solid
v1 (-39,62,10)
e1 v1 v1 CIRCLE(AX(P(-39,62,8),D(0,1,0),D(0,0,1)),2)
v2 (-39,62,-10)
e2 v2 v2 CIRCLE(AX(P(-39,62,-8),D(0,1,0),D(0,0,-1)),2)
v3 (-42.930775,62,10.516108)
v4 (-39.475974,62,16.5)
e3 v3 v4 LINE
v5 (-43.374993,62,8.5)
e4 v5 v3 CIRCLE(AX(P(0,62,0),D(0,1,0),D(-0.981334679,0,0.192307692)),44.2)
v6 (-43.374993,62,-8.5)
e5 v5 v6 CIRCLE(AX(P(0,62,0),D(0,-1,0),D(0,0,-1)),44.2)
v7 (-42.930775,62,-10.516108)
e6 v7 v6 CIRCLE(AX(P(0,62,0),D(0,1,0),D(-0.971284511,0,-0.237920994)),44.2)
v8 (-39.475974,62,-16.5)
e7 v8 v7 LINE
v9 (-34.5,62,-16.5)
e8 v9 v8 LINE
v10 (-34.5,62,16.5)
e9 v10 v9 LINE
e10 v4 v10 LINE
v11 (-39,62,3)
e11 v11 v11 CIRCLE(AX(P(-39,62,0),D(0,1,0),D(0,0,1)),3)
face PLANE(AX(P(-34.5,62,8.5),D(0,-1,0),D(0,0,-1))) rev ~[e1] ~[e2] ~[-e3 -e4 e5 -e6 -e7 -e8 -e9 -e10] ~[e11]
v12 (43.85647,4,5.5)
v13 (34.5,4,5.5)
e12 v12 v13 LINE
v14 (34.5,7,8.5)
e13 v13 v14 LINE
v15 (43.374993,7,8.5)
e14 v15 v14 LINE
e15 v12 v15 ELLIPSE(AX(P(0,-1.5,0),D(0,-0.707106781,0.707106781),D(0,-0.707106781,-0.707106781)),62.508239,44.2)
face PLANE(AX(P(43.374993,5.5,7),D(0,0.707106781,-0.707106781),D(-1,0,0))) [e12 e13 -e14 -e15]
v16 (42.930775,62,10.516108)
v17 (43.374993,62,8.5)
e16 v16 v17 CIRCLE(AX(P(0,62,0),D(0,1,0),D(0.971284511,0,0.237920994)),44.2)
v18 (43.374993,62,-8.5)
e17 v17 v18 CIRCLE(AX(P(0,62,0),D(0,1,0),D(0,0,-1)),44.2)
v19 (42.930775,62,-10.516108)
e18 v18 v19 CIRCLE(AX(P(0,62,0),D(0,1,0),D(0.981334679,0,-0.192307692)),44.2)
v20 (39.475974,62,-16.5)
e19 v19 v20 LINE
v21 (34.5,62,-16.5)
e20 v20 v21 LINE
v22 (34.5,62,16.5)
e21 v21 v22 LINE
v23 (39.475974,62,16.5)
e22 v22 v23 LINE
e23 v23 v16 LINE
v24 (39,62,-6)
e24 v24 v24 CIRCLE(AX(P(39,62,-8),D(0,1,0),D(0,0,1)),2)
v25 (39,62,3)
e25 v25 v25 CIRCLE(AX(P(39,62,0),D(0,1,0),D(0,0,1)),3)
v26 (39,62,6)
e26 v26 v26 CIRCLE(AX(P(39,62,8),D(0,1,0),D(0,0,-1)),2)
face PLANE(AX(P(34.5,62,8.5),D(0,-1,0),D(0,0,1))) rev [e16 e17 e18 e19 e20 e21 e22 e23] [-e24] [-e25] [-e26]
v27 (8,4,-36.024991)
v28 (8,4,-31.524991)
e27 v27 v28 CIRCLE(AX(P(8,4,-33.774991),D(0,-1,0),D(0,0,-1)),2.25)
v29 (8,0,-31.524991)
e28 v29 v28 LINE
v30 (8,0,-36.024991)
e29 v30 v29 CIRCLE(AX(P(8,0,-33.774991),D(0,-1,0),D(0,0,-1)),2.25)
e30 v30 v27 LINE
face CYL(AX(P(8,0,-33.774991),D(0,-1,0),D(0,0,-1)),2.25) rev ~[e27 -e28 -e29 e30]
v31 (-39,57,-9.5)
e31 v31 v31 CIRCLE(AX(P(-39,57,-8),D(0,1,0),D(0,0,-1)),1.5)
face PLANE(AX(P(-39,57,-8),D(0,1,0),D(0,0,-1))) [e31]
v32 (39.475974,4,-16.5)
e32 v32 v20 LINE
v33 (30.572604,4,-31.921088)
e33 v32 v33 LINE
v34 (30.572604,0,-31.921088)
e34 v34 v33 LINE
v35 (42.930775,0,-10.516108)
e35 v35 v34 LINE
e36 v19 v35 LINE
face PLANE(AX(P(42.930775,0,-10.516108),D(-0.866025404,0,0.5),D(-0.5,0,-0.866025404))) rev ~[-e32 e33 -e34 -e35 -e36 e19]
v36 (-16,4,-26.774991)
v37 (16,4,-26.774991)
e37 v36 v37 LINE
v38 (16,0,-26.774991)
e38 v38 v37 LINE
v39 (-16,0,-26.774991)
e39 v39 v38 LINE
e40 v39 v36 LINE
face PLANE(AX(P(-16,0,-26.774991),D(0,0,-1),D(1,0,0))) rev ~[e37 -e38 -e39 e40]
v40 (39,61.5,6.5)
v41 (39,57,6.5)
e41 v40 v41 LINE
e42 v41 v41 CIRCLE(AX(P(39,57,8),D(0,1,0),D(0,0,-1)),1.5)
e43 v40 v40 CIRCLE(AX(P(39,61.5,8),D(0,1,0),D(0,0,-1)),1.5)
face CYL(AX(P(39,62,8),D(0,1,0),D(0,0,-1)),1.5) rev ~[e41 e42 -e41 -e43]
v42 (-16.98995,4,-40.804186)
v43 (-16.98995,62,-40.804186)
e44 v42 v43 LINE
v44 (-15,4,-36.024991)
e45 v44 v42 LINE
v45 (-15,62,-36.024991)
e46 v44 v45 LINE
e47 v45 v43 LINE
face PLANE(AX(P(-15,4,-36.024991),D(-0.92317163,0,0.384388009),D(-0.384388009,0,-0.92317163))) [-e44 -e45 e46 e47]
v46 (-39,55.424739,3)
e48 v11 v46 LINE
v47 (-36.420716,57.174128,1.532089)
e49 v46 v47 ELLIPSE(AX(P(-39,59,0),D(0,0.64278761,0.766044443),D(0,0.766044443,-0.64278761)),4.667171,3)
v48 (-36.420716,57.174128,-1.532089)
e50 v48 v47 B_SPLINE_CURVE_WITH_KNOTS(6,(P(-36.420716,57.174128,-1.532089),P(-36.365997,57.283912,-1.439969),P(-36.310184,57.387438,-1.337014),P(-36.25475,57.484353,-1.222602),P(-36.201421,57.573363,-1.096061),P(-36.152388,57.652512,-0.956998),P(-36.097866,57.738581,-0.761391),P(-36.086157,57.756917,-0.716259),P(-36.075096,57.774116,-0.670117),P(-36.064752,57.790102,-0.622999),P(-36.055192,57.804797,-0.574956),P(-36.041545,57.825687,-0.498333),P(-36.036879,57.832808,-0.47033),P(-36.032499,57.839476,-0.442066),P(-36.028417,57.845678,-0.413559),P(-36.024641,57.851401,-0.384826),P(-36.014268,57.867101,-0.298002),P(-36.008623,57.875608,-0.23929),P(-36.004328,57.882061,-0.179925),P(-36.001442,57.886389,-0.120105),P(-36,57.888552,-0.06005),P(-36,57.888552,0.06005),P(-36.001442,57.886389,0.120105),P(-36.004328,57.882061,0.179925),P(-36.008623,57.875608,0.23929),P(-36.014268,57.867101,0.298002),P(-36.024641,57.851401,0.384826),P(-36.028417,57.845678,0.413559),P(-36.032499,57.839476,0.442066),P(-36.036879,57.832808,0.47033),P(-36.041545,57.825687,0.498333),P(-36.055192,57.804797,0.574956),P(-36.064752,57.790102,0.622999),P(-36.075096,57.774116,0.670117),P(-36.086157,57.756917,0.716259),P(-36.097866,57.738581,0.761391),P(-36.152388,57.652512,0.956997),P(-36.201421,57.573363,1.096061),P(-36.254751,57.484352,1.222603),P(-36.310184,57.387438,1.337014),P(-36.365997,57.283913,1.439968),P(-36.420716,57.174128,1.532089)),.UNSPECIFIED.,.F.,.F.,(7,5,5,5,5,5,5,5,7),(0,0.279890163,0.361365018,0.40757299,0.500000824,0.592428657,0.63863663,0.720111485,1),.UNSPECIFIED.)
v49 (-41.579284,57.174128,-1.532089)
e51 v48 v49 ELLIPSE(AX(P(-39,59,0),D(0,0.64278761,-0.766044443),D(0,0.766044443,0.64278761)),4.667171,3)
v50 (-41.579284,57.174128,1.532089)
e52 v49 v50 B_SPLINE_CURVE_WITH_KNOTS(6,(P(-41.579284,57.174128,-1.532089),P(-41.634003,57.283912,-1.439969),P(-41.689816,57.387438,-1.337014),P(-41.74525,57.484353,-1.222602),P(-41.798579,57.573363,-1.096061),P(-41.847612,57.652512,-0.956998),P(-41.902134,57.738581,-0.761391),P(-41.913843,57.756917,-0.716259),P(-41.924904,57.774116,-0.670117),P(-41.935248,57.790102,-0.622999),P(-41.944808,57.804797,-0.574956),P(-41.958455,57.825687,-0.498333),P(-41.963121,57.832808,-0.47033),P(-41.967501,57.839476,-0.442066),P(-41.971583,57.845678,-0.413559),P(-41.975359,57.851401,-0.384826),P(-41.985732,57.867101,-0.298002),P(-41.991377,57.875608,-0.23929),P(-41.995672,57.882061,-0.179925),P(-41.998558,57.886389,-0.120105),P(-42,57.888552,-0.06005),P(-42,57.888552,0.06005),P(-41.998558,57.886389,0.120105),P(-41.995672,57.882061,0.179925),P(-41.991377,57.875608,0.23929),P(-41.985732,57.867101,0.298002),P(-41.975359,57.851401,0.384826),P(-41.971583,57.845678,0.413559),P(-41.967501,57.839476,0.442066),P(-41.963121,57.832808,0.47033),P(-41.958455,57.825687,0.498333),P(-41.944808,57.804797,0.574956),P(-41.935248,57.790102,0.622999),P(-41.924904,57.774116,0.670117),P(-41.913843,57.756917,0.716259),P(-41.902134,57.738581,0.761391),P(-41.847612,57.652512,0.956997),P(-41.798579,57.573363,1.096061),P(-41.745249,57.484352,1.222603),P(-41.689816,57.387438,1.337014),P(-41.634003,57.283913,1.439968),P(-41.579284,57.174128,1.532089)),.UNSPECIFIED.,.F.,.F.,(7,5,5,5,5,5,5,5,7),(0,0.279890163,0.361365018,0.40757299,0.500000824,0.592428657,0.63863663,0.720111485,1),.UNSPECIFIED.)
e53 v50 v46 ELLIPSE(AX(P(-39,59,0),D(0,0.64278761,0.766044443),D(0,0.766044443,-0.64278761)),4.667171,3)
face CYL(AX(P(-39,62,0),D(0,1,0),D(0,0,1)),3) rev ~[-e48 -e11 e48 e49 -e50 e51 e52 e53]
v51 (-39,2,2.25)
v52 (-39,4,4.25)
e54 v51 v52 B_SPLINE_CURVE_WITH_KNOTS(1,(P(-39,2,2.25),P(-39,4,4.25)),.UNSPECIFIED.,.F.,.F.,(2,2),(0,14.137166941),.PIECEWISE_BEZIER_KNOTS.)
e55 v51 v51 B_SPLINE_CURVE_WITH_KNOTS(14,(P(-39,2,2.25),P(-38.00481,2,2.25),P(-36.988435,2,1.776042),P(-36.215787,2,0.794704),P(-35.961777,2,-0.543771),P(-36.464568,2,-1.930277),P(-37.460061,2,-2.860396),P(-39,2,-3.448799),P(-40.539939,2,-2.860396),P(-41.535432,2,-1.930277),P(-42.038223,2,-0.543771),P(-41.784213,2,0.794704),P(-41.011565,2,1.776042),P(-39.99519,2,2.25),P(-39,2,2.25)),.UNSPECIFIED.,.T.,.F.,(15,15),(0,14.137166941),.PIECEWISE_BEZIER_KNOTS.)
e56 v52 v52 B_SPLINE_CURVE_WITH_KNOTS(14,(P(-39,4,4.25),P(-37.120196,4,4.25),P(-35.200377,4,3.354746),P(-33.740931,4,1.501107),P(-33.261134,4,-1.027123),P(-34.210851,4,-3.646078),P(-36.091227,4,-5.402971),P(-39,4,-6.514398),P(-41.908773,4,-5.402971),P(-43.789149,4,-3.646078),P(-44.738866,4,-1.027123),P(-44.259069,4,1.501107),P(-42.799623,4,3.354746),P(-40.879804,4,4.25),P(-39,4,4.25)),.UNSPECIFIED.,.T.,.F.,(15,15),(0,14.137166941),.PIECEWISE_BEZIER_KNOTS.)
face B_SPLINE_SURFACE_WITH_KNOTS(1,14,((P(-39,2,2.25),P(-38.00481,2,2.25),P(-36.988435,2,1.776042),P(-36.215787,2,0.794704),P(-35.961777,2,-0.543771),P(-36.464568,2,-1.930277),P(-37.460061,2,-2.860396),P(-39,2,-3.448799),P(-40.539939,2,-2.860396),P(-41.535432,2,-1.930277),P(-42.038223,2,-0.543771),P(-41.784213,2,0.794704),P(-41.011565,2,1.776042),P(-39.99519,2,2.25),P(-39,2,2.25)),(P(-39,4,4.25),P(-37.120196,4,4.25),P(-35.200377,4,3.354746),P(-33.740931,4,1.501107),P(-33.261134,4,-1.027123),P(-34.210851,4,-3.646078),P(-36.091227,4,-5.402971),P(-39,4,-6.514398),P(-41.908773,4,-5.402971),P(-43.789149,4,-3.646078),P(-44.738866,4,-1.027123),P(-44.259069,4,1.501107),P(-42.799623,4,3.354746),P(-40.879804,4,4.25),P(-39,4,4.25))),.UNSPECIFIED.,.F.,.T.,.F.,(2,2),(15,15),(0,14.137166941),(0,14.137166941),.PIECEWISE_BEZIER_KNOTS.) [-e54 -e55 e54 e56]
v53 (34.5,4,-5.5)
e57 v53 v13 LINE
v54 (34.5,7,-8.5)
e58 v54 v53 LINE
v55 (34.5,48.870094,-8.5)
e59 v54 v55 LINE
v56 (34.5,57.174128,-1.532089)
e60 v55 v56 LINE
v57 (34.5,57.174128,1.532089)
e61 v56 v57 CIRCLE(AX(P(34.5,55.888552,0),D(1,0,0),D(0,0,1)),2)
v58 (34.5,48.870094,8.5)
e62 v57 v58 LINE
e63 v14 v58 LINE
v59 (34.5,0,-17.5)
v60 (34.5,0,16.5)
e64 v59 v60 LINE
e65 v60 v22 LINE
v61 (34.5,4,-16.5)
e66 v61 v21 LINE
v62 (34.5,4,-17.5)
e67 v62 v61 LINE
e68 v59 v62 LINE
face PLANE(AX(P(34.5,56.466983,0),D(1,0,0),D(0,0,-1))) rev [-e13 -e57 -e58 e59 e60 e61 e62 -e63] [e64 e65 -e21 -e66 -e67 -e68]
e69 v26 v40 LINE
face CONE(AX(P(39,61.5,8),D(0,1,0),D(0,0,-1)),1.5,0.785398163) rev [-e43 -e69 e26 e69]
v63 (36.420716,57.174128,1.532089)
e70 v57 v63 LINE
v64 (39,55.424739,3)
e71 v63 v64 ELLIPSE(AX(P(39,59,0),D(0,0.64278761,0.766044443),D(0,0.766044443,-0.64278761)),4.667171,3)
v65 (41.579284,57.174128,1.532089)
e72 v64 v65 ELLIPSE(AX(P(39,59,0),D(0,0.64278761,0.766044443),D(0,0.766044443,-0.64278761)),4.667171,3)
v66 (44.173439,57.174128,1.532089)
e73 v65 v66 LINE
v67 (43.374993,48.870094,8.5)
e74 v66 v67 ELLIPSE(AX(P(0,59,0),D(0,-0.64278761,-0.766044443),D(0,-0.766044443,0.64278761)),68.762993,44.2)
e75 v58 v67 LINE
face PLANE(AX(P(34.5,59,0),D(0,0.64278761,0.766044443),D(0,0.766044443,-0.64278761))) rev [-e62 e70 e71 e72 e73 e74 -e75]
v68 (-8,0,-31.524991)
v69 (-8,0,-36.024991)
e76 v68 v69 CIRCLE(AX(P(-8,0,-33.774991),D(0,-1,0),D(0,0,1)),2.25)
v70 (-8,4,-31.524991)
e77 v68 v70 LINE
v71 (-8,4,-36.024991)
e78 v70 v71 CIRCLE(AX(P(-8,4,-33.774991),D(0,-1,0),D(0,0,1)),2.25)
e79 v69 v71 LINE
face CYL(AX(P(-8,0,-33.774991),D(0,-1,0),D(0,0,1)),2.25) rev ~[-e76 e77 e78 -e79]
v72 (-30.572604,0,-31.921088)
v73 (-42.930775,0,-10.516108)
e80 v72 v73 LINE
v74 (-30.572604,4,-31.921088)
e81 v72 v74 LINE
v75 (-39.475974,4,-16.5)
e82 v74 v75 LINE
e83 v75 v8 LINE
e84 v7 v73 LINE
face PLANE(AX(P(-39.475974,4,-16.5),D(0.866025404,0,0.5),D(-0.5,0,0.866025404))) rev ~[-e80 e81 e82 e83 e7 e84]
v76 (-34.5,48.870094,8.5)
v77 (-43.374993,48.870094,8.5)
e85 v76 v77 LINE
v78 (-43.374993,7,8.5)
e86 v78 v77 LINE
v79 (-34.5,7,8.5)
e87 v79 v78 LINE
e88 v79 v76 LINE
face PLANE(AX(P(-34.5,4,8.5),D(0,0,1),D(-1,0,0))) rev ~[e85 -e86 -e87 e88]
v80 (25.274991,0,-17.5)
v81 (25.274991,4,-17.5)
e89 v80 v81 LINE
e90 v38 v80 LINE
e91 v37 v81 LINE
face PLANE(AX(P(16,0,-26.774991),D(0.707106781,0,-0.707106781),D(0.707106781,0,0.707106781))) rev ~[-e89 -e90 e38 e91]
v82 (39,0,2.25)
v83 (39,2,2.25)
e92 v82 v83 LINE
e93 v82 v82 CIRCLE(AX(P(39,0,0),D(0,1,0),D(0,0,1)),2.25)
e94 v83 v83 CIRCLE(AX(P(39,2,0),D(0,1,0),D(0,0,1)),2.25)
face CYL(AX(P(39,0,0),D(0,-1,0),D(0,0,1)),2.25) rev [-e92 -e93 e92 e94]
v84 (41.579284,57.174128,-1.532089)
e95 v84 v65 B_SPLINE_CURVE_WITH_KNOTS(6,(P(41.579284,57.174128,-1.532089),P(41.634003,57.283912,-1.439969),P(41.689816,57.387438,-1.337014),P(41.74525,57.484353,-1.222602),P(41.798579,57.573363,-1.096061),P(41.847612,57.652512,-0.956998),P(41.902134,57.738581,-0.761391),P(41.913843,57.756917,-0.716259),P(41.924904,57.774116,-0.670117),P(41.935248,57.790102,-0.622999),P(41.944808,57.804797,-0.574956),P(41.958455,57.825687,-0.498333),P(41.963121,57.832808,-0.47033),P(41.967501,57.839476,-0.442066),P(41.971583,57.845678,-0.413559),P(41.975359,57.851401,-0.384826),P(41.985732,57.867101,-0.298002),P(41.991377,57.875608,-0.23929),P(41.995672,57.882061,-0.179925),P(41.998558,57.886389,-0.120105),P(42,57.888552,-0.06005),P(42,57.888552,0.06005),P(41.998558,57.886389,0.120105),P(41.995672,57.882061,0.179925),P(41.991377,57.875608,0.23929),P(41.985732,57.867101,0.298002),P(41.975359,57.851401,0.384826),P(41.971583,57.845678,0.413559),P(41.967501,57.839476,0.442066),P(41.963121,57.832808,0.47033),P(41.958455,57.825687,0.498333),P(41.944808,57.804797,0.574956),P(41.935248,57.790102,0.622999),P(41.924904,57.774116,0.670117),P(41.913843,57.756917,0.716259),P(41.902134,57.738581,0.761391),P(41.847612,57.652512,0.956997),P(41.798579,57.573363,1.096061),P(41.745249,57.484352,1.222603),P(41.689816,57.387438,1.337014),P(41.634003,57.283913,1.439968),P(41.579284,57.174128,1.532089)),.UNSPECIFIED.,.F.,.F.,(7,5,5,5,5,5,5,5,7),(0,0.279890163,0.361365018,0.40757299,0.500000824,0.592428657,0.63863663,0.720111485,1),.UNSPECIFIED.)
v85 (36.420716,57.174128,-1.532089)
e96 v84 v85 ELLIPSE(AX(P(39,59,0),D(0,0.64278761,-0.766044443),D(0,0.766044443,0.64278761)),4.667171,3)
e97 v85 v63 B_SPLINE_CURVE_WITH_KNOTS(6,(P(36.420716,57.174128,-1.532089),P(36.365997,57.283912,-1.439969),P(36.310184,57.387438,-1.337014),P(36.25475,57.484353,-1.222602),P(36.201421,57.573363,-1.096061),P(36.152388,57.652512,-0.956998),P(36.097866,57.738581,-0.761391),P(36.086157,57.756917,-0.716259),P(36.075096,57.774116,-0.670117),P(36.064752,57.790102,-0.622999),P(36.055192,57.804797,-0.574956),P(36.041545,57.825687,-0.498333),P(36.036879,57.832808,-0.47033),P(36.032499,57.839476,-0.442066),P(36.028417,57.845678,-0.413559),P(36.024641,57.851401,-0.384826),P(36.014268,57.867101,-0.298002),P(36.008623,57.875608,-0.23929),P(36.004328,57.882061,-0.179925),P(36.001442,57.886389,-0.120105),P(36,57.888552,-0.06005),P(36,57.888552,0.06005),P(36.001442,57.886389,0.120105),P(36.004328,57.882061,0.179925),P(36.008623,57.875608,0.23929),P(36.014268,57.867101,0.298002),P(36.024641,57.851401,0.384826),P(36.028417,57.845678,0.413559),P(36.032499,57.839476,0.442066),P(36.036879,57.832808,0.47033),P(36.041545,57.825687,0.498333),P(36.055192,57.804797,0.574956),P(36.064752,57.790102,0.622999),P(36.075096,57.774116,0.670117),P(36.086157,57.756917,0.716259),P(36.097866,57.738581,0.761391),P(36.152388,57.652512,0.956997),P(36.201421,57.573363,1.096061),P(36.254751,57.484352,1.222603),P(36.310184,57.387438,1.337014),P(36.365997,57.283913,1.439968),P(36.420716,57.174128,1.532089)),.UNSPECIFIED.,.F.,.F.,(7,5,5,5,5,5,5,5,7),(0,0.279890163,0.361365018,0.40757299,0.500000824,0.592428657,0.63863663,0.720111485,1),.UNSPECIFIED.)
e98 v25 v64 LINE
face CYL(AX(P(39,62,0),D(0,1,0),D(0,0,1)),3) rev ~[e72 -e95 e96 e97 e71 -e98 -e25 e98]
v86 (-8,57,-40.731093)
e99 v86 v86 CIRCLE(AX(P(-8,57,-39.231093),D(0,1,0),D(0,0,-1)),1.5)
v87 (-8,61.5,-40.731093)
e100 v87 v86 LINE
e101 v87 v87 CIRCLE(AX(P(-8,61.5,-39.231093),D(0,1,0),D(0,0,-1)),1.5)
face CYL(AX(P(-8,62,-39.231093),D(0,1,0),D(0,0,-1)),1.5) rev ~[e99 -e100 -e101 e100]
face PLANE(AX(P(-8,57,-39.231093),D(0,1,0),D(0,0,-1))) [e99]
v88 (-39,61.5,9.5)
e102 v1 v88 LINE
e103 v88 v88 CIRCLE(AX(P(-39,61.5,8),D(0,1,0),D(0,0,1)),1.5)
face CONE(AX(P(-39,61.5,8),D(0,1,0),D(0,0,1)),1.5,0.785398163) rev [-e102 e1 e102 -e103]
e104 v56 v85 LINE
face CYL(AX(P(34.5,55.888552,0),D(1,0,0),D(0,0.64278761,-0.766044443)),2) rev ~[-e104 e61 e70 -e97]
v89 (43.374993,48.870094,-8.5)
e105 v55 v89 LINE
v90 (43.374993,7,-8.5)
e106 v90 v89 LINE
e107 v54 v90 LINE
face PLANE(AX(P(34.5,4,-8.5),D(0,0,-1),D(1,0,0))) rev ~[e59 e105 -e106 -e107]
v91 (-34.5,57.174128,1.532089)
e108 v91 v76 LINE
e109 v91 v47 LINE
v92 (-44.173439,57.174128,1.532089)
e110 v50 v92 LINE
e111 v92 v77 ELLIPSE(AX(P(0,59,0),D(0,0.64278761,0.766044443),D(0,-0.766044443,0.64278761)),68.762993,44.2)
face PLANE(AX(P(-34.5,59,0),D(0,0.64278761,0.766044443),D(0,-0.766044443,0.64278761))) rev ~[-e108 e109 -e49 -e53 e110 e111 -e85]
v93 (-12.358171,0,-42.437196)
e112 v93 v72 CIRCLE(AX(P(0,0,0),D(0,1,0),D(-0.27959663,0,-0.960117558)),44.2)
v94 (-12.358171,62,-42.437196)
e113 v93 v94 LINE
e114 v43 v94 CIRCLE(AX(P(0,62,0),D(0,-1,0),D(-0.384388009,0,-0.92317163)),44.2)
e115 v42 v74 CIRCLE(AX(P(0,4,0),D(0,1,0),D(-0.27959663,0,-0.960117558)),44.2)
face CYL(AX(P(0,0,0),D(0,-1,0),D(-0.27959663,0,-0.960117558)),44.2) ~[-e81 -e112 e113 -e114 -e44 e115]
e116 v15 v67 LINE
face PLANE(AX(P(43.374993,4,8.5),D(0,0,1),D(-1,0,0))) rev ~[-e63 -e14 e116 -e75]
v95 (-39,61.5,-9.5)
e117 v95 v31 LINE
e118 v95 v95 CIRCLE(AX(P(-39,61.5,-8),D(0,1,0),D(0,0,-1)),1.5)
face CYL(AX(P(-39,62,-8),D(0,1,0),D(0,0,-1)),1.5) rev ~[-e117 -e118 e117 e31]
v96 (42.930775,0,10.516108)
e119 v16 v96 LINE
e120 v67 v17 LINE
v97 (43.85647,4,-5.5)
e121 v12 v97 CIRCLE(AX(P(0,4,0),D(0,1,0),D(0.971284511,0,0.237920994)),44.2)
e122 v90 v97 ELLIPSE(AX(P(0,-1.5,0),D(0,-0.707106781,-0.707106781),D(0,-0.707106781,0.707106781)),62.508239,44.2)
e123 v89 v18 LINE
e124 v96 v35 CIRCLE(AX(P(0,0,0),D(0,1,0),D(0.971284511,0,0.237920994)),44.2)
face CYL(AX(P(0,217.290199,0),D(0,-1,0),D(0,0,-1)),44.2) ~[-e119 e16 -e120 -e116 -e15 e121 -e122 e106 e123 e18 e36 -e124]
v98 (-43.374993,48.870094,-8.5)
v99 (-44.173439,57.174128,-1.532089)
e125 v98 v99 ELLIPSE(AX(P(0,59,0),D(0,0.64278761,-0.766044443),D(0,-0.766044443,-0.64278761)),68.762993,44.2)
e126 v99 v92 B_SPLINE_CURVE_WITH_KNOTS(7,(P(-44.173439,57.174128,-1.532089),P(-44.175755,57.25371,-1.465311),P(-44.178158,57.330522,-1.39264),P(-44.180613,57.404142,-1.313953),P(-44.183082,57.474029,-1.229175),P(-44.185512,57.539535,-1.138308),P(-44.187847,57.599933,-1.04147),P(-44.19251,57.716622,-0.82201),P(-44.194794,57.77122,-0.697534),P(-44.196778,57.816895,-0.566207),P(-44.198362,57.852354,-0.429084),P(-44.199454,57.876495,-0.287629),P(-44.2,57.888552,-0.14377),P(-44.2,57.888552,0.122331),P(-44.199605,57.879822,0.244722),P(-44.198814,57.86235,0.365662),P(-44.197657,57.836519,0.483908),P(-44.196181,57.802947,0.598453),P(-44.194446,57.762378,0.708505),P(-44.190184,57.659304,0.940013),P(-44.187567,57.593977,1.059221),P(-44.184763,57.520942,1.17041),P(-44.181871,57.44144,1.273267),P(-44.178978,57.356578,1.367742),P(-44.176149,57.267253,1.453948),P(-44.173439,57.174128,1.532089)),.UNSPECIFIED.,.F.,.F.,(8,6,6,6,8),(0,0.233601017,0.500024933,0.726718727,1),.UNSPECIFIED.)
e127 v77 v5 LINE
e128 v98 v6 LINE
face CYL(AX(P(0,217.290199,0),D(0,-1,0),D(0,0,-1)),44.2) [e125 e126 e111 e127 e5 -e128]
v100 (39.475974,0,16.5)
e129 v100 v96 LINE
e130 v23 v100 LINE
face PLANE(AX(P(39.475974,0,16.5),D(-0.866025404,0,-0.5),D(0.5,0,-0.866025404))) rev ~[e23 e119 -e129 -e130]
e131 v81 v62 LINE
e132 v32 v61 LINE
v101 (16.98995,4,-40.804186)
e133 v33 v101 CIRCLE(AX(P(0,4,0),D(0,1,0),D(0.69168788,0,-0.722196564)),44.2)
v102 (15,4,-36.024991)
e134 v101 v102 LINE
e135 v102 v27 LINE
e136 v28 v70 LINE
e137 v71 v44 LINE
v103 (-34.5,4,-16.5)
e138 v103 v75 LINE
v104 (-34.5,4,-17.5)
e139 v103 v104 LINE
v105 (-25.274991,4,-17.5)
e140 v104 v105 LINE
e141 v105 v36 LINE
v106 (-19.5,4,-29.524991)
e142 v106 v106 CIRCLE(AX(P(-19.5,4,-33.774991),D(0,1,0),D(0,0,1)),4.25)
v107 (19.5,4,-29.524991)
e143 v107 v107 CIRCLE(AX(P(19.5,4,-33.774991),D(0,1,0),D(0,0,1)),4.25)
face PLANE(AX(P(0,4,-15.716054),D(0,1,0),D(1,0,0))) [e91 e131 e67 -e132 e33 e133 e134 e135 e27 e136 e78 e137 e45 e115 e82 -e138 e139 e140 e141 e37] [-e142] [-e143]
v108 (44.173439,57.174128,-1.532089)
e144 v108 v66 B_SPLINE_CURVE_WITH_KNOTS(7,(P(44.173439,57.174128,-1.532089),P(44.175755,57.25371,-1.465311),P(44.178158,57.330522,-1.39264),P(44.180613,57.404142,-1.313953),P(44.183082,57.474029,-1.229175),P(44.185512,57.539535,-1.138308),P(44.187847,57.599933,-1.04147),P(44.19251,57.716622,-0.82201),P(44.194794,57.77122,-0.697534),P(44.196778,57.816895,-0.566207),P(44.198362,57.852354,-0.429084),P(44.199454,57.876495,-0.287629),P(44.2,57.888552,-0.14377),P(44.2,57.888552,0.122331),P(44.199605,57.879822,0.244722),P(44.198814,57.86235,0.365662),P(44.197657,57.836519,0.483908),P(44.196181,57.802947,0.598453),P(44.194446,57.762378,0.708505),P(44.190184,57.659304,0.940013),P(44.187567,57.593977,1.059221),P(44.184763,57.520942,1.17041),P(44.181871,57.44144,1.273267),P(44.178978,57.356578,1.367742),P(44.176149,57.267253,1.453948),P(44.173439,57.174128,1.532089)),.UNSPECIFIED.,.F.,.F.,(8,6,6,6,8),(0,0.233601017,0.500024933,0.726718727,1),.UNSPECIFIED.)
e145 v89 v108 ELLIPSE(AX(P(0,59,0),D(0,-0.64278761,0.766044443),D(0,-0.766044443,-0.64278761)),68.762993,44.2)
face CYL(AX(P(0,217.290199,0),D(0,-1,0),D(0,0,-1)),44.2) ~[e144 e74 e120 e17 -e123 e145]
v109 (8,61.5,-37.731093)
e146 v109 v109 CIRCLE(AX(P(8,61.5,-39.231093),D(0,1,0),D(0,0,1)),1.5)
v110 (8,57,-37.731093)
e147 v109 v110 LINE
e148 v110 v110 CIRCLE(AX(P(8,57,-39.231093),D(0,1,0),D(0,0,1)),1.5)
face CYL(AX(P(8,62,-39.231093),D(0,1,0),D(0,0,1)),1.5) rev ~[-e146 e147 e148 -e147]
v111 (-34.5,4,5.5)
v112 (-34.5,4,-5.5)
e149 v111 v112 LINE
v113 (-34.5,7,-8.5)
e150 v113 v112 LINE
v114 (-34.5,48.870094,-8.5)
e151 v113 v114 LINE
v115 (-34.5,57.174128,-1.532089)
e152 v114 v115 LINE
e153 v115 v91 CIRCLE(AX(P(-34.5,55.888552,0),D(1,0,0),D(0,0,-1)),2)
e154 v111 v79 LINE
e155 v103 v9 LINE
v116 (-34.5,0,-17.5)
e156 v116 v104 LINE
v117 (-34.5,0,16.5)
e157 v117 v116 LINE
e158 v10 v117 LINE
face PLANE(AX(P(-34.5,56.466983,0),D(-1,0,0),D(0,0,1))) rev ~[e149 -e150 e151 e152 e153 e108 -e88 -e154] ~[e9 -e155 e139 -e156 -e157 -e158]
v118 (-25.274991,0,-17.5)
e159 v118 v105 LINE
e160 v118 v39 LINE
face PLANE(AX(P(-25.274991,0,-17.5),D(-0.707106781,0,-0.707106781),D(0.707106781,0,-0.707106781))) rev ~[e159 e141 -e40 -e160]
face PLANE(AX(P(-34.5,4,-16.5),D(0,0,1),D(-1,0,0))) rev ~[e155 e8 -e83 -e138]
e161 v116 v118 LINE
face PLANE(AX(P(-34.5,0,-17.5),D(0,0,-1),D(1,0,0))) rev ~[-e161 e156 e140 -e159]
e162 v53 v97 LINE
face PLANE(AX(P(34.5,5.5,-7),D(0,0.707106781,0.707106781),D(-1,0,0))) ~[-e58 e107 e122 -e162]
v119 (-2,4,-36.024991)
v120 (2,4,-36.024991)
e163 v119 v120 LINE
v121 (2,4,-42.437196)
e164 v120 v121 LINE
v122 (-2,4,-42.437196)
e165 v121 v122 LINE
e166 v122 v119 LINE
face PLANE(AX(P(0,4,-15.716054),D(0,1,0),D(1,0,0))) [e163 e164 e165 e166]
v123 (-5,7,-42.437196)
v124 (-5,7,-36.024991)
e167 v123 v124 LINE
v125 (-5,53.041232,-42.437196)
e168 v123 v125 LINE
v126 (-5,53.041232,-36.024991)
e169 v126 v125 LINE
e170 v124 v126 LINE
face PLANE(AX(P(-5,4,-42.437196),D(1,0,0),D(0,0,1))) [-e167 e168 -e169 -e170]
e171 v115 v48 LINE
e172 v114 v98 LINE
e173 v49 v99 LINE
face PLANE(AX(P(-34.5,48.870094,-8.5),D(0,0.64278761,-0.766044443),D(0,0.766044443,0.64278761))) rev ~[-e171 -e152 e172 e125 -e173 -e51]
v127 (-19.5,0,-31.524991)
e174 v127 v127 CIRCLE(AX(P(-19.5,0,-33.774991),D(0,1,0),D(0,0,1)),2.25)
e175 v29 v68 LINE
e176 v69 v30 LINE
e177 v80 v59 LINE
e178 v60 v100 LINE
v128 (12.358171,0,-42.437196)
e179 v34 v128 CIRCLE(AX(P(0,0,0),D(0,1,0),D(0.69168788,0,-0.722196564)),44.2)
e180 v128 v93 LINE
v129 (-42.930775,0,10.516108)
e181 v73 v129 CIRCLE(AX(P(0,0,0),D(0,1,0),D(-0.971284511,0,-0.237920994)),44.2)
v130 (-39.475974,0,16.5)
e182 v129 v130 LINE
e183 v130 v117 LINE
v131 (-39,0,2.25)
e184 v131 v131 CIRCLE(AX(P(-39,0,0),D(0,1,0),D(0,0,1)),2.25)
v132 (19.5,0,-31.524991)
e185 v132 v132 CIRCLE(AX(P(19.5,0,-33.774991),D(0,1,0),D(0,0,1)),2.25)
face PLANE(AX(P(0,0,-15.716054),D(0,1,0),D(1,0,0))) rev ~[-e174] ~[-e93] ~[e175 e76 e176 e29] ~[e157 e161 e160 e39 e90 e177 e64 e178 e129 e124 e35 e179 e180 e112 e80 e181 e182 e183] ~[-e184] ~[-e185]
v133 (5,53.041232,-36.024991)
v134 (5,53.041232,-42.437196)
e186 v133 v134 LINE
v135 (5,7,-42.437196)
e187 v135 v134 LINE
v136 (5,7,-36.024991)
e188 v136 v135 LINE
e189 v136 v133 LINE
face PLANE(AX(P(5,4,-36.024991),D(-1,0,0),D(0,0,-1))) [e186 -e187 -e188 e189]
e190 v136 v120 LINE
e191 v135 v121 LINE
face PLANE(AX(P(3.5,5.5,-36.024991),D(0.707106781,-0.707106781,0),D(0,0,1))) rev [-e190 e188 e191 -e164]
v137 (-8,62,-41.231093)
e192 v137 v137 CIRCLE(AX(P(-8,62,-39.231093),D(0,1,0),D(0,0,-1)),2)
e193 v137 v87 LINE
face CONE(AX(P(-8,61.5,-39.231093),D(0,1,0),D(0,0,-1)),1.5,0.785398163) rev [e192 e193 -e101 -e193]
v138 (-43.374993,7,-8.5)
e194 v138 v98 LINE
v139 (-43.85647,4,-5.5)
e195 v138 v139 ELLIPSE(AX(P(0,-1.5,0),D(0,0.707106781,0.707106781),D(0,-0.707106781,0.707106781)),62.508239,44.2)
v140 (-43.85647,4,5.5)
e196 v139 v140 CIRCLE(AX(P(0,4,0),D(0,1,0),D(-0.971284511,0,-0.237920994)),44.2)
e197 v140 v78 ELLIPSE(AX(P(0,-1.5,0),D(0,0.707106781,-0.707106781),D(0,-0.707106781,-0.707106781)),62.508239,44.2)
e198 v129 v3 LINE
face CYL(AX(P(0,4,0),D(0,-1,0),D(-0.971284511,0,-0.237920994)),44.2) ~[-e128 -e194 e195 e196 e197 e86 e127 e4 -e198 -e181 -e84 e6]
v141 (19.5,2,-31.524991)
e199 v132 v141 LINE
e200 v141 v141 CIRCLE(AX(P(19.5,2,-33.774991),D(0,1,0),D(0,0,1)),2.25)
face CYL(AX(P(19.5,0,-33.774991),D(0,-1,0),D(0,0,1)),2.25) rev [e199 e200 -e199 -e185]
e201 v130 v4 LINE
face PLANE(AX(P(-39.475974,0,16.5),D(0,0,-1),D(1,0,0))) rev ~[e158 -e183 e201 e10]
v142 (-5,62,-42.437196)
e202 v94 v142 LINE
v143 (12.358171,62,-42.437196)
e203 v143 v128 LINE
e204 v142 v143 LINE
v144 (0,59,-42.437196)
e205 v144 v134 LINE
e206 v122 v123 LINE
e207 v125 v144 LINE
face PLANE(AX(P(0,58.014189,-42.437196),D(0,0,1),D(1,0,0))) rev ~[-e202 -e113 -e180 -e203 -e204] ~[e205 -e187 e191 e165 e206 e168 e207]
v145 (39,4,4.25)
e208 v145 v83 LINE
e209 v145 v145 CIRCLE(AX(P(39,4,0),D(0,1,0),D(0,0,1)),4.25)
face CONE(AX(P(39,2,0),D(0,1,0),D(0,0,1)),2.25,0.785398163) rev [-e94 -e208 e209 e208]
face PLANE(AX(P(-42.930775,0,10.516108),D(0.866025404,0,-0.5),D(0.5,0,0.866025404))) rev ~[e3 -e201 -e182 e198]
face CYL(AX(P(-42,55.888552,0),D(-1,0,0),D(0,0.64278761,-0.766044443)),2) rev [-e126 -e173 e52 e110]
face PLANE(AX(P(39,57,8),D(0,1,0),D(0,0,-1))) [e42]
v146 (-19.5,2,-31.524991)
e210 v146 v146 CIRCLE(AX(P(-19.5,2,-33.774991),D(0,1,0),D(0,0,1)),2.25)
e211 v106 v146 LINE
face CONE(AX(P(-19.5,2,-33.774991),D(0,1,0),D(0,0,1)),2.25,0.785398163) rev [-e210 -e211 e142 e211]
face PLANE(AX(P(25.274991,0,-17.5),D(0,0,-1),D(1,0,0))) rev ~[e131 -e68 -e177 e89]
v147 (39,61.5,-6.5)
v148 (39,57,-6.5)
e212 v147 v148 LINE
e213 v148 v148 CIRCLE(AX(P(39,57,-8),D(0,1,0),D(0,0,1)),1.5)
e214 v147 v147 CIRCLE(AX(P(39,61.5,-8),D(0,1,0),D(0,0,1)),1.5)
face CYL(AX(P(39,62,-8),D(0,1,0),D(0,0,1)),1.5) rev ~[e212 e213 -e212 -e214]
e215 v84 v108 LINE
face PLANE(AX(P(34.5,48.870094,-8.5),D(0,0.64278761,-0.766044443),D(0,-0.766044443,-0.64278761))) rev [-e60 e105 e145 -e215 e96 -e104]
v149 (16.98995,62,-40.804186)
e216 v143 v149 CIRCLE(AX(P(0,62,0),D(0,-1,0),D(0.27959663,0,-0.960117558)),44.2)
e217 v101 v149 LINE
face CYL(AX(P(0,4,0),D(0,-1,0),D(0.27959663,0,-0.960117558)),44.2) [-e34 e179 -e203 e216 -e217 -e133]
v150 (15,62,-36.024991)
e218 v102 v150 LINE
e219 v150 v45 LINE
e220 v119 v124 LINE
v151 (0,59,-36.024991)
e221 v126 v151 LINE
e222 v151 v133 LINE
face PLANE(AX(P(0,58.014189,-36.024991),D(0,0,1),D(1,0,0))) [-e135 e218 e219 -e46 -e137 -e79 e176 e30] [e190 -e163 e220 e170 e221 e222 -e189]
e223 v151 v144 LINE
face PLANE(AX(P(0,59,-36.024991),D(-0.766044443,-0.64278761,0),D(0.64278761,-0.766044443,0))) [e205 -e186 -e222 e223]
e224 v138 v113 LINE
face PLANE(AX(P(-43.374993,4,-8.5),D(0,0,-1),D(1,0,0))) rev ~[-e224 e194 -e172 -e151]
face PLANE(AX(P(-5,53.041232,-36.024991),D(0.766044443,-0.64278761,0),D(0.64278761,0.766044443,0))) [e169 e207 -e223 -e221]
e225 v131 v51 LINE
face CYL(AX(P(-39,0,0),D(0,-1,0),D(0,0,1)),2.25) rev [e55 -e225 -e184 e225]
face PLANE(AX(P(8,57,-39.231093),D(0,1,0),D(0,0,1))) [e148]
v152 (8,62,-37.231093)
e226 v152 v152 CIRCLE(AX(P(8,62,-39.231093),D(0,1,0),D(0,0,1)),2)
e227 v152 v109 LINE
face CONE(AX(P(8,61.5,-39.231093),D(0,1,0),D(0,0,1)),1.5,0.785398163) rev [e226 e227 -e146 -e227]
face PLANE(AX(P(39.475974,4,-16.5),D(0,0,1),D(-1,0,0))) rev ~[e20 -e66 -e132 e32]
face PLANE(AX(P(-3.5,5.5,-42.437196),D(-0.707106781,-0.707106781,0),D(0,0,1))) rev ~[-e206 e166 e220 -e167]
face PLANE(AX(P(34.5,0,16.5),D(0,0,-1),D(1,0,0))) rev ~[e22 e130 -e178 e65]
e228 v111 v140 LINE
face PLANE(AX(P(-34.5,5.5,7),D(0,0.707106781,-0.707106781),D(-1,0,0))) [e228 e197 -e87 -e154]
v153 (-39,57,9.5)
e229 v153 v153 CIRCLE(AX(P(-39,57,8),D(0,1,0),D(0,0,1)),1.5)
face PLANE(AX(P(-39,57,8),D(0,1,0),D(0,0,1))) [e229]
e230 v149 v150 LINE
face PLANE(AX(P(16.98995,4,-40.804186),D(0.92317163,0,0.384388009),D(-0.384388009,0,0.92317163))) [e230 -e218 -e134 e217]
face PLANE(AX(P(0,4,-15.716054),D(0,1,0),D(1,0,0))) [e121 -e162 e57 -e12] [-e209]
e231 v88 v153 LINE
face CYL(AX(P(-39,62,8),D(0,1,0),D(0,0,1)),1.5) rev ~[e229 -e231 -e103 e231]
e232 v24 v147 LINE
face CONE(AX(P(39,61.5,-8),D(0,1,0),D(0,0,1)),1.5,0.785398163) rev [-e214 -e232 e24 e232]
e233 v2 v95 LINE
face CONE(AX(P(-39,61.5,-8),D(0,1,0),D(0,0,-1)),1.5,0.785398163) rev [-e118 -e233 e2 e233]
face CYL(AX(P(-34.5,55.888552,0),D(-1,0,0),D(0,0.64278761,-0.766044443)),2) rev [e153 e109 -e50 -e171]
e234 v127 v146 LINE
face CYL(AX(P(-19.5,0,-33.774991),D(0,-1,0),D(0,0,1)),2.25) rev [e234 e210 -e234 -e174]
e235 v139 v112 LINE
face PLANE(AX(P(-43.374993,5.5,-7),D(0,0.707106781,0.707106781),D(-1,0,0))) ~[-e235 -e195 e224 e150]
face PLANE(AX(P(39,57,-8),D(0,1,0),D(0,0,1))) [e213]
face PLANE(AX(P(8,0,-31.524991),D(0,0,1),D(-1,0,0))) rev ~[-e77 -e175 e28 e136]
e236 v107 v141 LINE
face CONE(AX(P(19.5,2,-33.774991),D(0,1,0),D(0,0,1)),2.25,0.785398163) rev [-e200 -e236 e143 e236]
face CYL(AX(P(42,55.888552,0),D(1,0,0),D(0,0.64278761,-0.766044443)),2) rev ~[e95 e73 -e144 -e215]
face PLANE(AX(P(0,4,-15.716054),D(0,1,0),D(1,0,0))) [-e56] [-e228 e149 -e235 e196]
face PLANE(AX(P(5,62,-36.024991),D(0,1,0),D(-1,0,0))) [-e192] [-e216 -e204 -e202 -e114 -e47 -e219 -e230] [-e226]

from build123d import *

# Parameters (mm, degrees)
SKETCH_1_R           = 2.250000000000002
SKETCH_1_R_2         = 2.2500000000000027
EXTRUDE_1_DEPTH      = 4
EXTRUDE_2_DEPTH      = 58
EXTRUDE_3_REACH      = 110.805
EXTRUDE_3_END_RADIUS = 44.19999999999999
CUT_EXTRUDE_1_REACH  = 89.17
SKETCH_4_R           = 3.0000000000000013
FILLET_1_R           = 2
CHAMFER_1_SIZE       = 2
EXTRUDE_4_DEPTH      = 58
EXTRUDE_5_DEPTH      = 6.412205295
SKETCH_8_R           = 1.5000000000000042
SKETCH_8_R_2         = 1.5000000000000009
SKETCH_8_R_3         = 1.500000000000004
SKETCH_8_R_4         = 1.500000000000017
SKETCH_8_R_5         = 1.5000000000000173
CUT_EXTRUDE_2_DEPTH  = 5
CHAMFER_2_SIZE       = 0.5
CHAMFER_3_SIZE       = 3


with BuildPart() as part:
    # Эскиз1 → Бобышка-Вытянуть1 (new body)
    with BuildSketch(Plane(origin=(0, 0, 0), x_dir=(1, 0, 0), z_dir=(0, 1, 0))):
        with BuildLine():
            Line((-42.93077537059159, -10.516107934012744), (-39.47597367549217, -16.5))
            Line((-39.47597367549216, -16.5), (-34.49999999999999, -16.5))
            Line((-34.49999999999999, -16.5), (-34.49999999999999, -3.5000000000000013))
            Line((-34.49999999999999, -3.5000000000000013), (-34.49999999999999, 3.5000000000000013))
            Line((-34.49999999999999, 3.5000000000000018), (-34.49999999999999, 17.5))
            Line((-34.49999999999999, 17.5), (-25.274990747593094, 17.499999999999996))
            Line((-25.274990747593094, 17.499999999999996), (-16, 26.77499074759315))
            Line((-16, 26.77499074759315), (16, 26.77499074759315))
            Line((16, 26.77499074759315), (25.274990747593094, 17.499999999999996))
            Line((25.274990747593094, 17.499999999999996), (34.50000000000001, 17.5))
            Line((34.50000000000001, 17.5), (34.50000000000001, 3.5000000000000013))
            Line((34.50000000000001, 3.5000000000000013), (34.5, -3.5000000000000013))
            Line((34.5, -3.5000000000000018), (34.5, -16.5))
            Line((34.5, -16.5), (39.475973675492156, -16.5))
            Line((39.475973675492156, -16.5), (42.9307753705916, -10.516107934012684))
            ThreePointArc((42.93077537059159, -10.516107934012682), (44.199999999999974, 1.599e-14), (42.93077537059159, 10.516107934012718))
            Line((42.93077537059159, 10.516107934012716), (30.572604305089854, 31.92108810808932))
            ThreePointArc((30.57260430508986, 31.92108810808933), (22.099999999999994, 38.27832284727222), (12.358171065501741, 42.43719604210199))
            Line((12.358171065501741, 42.437196042101974), (-12.358171065501741, 42.437196042101974))
            ThreePointArc((-12.358171065501743, 42.43719604210198), (-22.099999999999994, 38.278322847272186), (-30.572604305089868, 31.921088108089307))
            Line((-30.572604305089865, 31.9210881080893), (-42.930775370591604, 10.5161079340127))
            ThreePointArc((-42.930775370591604, 10.516107934012702), (-44.19999999999999, -1.954e-14), (-42.93077537059159, -10.516107934012746))
        make_face()
        with Locations(Location((-39, 0, 0), (0, 0, 270))):
            Circle(SKETCH_1_R, mode=Mode.SUBTRACT)
        with Locations(Location((39, 0, 0), (0, 0, 270))):
            Circle(SKETCH_1_R, mode=Mode.SUBTRACT)
        with Locations(Location((-19.50000000000016, 33.77499074759302, 0), (0, 0, 270))):
            Circle(SKETCH_1_R_2, mode=Mode.SUBTRACT)
        with BuildLine():
            Line((-8, 36.024990747593144), (8, 36.024990747593144))
            ThreePointArc((8, 36.024990747593144), (10.25, 33.774990747593144), (7.999999999999998, 31.524990747593144))
            Line((7.999999999999998, 31.524990747593144), (-7.999999999999998, 31.524990747593144))
            ThreePointArc((-7.999999999999998, 31.524990747593144), (-10.25, 33.774990747593144), (-8, 36.024990747593144))
        make_face(mode=Mode.SUBTRACT)
        with Locations(Location((19.499999999999925, 33.77499074759315, 0), (0, 0, 270))):
            Circle(SKETCH_1_R_2, mode=Mode.SUBTRACT)
    extrude(amount=EXTRUDE_1_DEPTH)

    # Эскиз2 → Бобышка-Вытянуть2 (add)
    with BuildSketch(Plane(origin=(0, 4, 0), x_dir=(1, 0, 0), z_dir=(0, 1, 0))):
        with BuildLine():
            ThreePointArc((-42.9307753705916, 10.516107934012743), (-43.16465657781108, 9.51064784962775), (-43.37499279538843, 8.50000000000001))
            Line((-43.37499279538844, 8.50000000000001), (-34.499999999999986, 8.500000000000005))
            Line((-34.499999999999986, 8.500000000000005), (-34.49999999999999, 16.5))
            Line((-34.49999999999999, 16.5), (-39.47597367549217, 16.5))
            Line((-39.47597367549217, 16.5), (-42.9307753705916, 10.516107934012743))
        make_face()
        with BuildLine():
            Line((-34.499999999999986, -8.500000000000005), (-43.37499279538844, -8.50000000000001))
            ThreePointArc((-43.37499279538843, -8.50000000000001), (-43.16465657781108, -9.51064784962775), (-42.9307753705916, -10.516107934012743))
            Line((-42.9307753705916, -10.516107934012743), (-39.47597367549217, -16.5))
            Line((-39.47597367549217, -16.5), (-34.49999999999999, -16.5))
            Line((-34.49999999999999, -16.5), (-34.499999999999986, -8.500000000000005))
        make_face()
        with BuildLine():
            Line((34.499999999999986, 8.500000000000005), (43.37499279538844, 8.50000000000001))
            ThreePointArc((43.37499279538845, 8.50000000000001), (43.16465657781109, 9.510647849627738), (42.930775370591604, 10.51610793401272))
            Line((42.930775370591604, 10.516107934012684), (39.475973675492156, 16.5))
            Line((39.475973675492156, 16.5), (34.5, 16.5))
            Line((34.5, 16.5), (34.499999999999986, 8.500000000000005))
        make_face()
        with BuildLine():
            ThreePointArc((42.93077537059162, -10.516107934012688), (43.164656577811115, -9.510647849627723), (43.37499279538845, -8.50000000000001))
            Line((43.37499279538844, -8.50000000000001), (34.499999999999986, -8.500000000000005))
            Line((34.499999999999986, -8.500000000000005), (34.5, -16.5))
            Line((34.5, -16.5), (39.475973675492156, -16.5))
            Line((39.475973675492156, -16.5), (42.930775370591604, -10.516107934012684))
        make_face()
    extrude(amount=EXTRUDE_2_DEPTH)

    # Бобышка-Вытянуть3: up to this cylinder (the profile starts inside it)
    extrude_3_end = Plane(origin=(0, 61.785199, 0), z_dir=(0, -1, 0)) * Cylinder(EXTRUDE_3_END_RADIUS, 311.01, mode=Mode.PRIVATE)
    # Эскиз3 → Бобышка-Вытянуть3 (add, up to the surface)
    with BuildSketch(Plane(origin=(-34.49999999999999, 0, 0), x_dir=(0, 0, -1), z_dir=(1, 0, 0)), mode=Mode.PRIVATE) as extrude_3_sk1:
        Polygon((-8.500000000000007, 62.00000000000001), (8.500000000000005, 62.00000000000001), (8.500000000000005, 48.87009446294909), (0, 59.00000000000001), (-8.500000000000005, 48.87009446294909), align=None)
    extrude_3_tool1 = extrude(extrude_3_sk1.sketch, amount=-EXTRUDE_3_REACH, mode=Mode.PRIVATE) & extrude_3_end
    extrude_3 = extrude_3_tool1.solids().sort_by_distance((-34.5, 61.785199, 0))[0]
    add(extrude_3)

    # Зеркальное отражение1: Бобышка-Вытянуть3 across plane
    add(extrude_3.mirror(Plane(origin=(0, 0, 0), x_dir=(0, 0, 1), z_dir=(1, 0, 0))))

    # Вырез-Вытянуть1: up to this face of the body (flat: up to its plane)
    cut_extrude_1_end = Plane(part.part.faces().sort_by_distance((44.00427315, 4, 0))[0])
    # Эскиз4 → Вырез-Вытянуть1 (cut, up to the picked face)
    with BuildSketch(Plane(origin=(0, 62.00000000000001, 0), x_dir=(1, 0, 0), z_dir=(0, 1, 0)), mode=Mode.PRIVATE) as cut_extrude_1_sk1:
        with Locations(Location((-39, 0, 0), (0, 0, 270))):
            Circle(SKETCH_4_R)
    cut_extrude_1_tool1 = split(extrude(cut_extrude_1_sk1.sketch, amount=-CUT_EXTRUDE_1_REACH, mode=Mode.PRIVATE), bisect_by=cut_extrude_1_end, keep=Keep.BOTH, mode=Mode.PRIVATE)
    # Эскиз4 → Вырез-Вытянуть1 (cut, up to the picked face)
    with BuildSketch(Plane(origin=(0, 62.00000000000001, 0), x_dir=(1, 0, 0), z_dir=(0, 1, 0)), mode=Mode.PRIVATE) as cut_extrude_1_sk2:
        with Locations(Location((39, 0, 0), (0, 0, 270))):
            Circle(SKETCH_4_R)
    cut_extrude_1_tool2 = split(extrude(cut_extrude_1_sk2.sketch, amount=-CUT_EXTRUDE_1_REACH, mode=Mode.PRIVATE), bisect_by=cut_extrude_1_end, keep=Keep.BOTH, mode=Mode.PRIVATE)
    add(cut_extrude_1_tool1.solids().sort_by(Axis((-39, 62, 0), (0, -1, 0)))[0], mode=Mode.SUBTRACT)
    add(cut_extrude_1_tool2.solids().sort_by(Axis((39, 62, 0), (0, -1, 0)))[0], mode=Mode.SUBTRACT)

    # Скругление1
    fillet_1_edges = [part.edges().sort_by_distance(p)[0] for p in [
        (35.249999999999986, 59.00000000000001, 0),
        (43.1, 59.00000000000001, 0),
        (-43.1, 59.00000000000001, 0),
        (-35.249999999999986, 59.00000000000001, 0),
    ]]
    fillet(fillet_1_edges, radius=FILLET_1_R)

    # Фаска1
    chamfer_1_edges = [part.edges().sort_by_distance(p)[0] for p in [
        (-19.50000000000016, 4, -36.02499074759302),
        (19.499999999999925, 4, -36.02499074759315),
        (39, 4, -2.250000000000002),
        (-39, 4, -2.250000000000002),
    ]]
    chamfer(chamfer_1_edges, length=CHAMFER_1_SIZE)

    # Эскиз6 → Бобышка-Вытянуть4 (add)
    with BuildSketch(Plane(origin=(0, 4, 0), x_dir=(1, 0, 0), z_dir=(0, 1, 0))):
        with BuildLine():
            Line((8, 36.024990747593144), (5.000000000000001, 36.024990747593144))
            Line((5.000000000000001, 36.024990747593144), (5, 42.437196042101974))
            Line((5, 42.437196042101974), (12.358171065501741, 42.437196042101974))
            ThreePointArc((12.358171065501741, 42.437196042101974), (14.696759256079767, 41.68507247647332), (16.989949980131733, 40.8041860557544))
            Line((16.989949980131733, 40.8041860557544), (15, 36.02499074759314))
            Line((15, 36.02499074759314), (8, 36.024990747593144))
        make_face()
        with BuildLine():
            Line((-12.358171065501741, 42.437196042101974), (-5, 42.437196042101974))
            Line((-5, 42.437196042101974), (-5.000000000000001, 36.024990747593144))
            Line((-5.000000000000001, 36.024990747593144), (-8, 36.024990747593144))
            Line((-8, 36.024990747593144), (-15, 36.02499074759314))
            Line((-15, 36.02499074759314), (-16.989949980131733, 40.8041860557544))
            ThreePointArc((-16.989949980131733, 40.8041860557544), (-14.696759256079767, 41.685072476473316), (-12.358171065501741, 42.437196042101974))
        make_face()
    extrude(amount=EXTRUDE_4_DEPTH)

    # Эскиз7 → Бобышка-Вытянуть5 (add)
    with BuildSketch(Plane.XY.offset(-36.024990747593144)):
        Polygon((-5.000000000000001, 62.00000000000001), (-5, 53.04123203702888), (0, 59.00000000000001), (5.000000000000003, 53.04123203702888), (5.000000000000001, 62.00000000000001), align=None)
    extrude(amount=-EXTRUDE_5_DEPTH)

    # Эскиз8 → Вырез-Вытянуть2 (cut)
    with BuildSketch(Plane(origin=(0, 62.00000000000001, 0), x_dir=(1, 0, 0), z_dir=(0, 1, 0))):
        with Locations(Location((38.99999999999992, 8, 0), (0, 0, 270))):
            Circle(SKETCH_8_R)
        with Locations(Location((8, 39.23109339484765, 0), (0, 0, 270))):
            Circle(SKETCH_8_R_2)
        with Locations(Location((38.99999999999992, -8, 0), (0, 0, 90))):
            Circle(SKETCH_8_R_3)
        with Locations(Location((-8, 39.23109339484765, 0), (0, 0, 90))):
            Circle(SKETCH_8_R)
        with Locations(Location((-38.999999999999865, -8.000000000000222, 0), (0, 0, 270))):
            Circle(SKETCH_8_R_4)
        with Locations(Location((-38.99999999999998, 7.999999999999556, 0), (0, 0, 90))):
            Circle(SKETCH_8_R_5)
    extrude(amount=-CUT_EXTRUDE_2_DEPTH, mode=Mode.SUBTRACT)

    # Фаска2
    chamfer_2_edges = [part.edges().sort_by_distance(p)[0] for p in [
        (8, 62.00000000000001, -40.73109339484765),
        (40.22474487139151, 62.00000000000001, 7.133974596215554),
        (-8, 62.00000000000001, -37.73109339484764),
        (-39.8660254037844, 62.00000000000001, 9.224744871391763),
        (-38.13397459621573, 62.00000000000001, -9.224744871391302),
        (37.775255128608336, 62.00000000000001, -7.133974596215554),
    ]]
    chamfer(chamfer_2_edges, length=CHAMFER_2_SIZE)

    # Фаска3
    chamfer_3_edges = [part.edges().sort_by_distance(p)[0] for p in [
        (-38.93749639769421, 4, 8.500000000000007),
        (38.93749639769421, 4, -8.500000000000007),
        (38.93749639769421, 4, 8.500000000000009),
        (5, 4, -39.23109339484756),
        (-5, 4, -39.23109339484756),
        (-38.93749639769421, 4, -8.500000000000009),
    ]]
    chamfer(chamfer_3_edges, length=CHAMFER_3_SIZE)


solid = part.part
